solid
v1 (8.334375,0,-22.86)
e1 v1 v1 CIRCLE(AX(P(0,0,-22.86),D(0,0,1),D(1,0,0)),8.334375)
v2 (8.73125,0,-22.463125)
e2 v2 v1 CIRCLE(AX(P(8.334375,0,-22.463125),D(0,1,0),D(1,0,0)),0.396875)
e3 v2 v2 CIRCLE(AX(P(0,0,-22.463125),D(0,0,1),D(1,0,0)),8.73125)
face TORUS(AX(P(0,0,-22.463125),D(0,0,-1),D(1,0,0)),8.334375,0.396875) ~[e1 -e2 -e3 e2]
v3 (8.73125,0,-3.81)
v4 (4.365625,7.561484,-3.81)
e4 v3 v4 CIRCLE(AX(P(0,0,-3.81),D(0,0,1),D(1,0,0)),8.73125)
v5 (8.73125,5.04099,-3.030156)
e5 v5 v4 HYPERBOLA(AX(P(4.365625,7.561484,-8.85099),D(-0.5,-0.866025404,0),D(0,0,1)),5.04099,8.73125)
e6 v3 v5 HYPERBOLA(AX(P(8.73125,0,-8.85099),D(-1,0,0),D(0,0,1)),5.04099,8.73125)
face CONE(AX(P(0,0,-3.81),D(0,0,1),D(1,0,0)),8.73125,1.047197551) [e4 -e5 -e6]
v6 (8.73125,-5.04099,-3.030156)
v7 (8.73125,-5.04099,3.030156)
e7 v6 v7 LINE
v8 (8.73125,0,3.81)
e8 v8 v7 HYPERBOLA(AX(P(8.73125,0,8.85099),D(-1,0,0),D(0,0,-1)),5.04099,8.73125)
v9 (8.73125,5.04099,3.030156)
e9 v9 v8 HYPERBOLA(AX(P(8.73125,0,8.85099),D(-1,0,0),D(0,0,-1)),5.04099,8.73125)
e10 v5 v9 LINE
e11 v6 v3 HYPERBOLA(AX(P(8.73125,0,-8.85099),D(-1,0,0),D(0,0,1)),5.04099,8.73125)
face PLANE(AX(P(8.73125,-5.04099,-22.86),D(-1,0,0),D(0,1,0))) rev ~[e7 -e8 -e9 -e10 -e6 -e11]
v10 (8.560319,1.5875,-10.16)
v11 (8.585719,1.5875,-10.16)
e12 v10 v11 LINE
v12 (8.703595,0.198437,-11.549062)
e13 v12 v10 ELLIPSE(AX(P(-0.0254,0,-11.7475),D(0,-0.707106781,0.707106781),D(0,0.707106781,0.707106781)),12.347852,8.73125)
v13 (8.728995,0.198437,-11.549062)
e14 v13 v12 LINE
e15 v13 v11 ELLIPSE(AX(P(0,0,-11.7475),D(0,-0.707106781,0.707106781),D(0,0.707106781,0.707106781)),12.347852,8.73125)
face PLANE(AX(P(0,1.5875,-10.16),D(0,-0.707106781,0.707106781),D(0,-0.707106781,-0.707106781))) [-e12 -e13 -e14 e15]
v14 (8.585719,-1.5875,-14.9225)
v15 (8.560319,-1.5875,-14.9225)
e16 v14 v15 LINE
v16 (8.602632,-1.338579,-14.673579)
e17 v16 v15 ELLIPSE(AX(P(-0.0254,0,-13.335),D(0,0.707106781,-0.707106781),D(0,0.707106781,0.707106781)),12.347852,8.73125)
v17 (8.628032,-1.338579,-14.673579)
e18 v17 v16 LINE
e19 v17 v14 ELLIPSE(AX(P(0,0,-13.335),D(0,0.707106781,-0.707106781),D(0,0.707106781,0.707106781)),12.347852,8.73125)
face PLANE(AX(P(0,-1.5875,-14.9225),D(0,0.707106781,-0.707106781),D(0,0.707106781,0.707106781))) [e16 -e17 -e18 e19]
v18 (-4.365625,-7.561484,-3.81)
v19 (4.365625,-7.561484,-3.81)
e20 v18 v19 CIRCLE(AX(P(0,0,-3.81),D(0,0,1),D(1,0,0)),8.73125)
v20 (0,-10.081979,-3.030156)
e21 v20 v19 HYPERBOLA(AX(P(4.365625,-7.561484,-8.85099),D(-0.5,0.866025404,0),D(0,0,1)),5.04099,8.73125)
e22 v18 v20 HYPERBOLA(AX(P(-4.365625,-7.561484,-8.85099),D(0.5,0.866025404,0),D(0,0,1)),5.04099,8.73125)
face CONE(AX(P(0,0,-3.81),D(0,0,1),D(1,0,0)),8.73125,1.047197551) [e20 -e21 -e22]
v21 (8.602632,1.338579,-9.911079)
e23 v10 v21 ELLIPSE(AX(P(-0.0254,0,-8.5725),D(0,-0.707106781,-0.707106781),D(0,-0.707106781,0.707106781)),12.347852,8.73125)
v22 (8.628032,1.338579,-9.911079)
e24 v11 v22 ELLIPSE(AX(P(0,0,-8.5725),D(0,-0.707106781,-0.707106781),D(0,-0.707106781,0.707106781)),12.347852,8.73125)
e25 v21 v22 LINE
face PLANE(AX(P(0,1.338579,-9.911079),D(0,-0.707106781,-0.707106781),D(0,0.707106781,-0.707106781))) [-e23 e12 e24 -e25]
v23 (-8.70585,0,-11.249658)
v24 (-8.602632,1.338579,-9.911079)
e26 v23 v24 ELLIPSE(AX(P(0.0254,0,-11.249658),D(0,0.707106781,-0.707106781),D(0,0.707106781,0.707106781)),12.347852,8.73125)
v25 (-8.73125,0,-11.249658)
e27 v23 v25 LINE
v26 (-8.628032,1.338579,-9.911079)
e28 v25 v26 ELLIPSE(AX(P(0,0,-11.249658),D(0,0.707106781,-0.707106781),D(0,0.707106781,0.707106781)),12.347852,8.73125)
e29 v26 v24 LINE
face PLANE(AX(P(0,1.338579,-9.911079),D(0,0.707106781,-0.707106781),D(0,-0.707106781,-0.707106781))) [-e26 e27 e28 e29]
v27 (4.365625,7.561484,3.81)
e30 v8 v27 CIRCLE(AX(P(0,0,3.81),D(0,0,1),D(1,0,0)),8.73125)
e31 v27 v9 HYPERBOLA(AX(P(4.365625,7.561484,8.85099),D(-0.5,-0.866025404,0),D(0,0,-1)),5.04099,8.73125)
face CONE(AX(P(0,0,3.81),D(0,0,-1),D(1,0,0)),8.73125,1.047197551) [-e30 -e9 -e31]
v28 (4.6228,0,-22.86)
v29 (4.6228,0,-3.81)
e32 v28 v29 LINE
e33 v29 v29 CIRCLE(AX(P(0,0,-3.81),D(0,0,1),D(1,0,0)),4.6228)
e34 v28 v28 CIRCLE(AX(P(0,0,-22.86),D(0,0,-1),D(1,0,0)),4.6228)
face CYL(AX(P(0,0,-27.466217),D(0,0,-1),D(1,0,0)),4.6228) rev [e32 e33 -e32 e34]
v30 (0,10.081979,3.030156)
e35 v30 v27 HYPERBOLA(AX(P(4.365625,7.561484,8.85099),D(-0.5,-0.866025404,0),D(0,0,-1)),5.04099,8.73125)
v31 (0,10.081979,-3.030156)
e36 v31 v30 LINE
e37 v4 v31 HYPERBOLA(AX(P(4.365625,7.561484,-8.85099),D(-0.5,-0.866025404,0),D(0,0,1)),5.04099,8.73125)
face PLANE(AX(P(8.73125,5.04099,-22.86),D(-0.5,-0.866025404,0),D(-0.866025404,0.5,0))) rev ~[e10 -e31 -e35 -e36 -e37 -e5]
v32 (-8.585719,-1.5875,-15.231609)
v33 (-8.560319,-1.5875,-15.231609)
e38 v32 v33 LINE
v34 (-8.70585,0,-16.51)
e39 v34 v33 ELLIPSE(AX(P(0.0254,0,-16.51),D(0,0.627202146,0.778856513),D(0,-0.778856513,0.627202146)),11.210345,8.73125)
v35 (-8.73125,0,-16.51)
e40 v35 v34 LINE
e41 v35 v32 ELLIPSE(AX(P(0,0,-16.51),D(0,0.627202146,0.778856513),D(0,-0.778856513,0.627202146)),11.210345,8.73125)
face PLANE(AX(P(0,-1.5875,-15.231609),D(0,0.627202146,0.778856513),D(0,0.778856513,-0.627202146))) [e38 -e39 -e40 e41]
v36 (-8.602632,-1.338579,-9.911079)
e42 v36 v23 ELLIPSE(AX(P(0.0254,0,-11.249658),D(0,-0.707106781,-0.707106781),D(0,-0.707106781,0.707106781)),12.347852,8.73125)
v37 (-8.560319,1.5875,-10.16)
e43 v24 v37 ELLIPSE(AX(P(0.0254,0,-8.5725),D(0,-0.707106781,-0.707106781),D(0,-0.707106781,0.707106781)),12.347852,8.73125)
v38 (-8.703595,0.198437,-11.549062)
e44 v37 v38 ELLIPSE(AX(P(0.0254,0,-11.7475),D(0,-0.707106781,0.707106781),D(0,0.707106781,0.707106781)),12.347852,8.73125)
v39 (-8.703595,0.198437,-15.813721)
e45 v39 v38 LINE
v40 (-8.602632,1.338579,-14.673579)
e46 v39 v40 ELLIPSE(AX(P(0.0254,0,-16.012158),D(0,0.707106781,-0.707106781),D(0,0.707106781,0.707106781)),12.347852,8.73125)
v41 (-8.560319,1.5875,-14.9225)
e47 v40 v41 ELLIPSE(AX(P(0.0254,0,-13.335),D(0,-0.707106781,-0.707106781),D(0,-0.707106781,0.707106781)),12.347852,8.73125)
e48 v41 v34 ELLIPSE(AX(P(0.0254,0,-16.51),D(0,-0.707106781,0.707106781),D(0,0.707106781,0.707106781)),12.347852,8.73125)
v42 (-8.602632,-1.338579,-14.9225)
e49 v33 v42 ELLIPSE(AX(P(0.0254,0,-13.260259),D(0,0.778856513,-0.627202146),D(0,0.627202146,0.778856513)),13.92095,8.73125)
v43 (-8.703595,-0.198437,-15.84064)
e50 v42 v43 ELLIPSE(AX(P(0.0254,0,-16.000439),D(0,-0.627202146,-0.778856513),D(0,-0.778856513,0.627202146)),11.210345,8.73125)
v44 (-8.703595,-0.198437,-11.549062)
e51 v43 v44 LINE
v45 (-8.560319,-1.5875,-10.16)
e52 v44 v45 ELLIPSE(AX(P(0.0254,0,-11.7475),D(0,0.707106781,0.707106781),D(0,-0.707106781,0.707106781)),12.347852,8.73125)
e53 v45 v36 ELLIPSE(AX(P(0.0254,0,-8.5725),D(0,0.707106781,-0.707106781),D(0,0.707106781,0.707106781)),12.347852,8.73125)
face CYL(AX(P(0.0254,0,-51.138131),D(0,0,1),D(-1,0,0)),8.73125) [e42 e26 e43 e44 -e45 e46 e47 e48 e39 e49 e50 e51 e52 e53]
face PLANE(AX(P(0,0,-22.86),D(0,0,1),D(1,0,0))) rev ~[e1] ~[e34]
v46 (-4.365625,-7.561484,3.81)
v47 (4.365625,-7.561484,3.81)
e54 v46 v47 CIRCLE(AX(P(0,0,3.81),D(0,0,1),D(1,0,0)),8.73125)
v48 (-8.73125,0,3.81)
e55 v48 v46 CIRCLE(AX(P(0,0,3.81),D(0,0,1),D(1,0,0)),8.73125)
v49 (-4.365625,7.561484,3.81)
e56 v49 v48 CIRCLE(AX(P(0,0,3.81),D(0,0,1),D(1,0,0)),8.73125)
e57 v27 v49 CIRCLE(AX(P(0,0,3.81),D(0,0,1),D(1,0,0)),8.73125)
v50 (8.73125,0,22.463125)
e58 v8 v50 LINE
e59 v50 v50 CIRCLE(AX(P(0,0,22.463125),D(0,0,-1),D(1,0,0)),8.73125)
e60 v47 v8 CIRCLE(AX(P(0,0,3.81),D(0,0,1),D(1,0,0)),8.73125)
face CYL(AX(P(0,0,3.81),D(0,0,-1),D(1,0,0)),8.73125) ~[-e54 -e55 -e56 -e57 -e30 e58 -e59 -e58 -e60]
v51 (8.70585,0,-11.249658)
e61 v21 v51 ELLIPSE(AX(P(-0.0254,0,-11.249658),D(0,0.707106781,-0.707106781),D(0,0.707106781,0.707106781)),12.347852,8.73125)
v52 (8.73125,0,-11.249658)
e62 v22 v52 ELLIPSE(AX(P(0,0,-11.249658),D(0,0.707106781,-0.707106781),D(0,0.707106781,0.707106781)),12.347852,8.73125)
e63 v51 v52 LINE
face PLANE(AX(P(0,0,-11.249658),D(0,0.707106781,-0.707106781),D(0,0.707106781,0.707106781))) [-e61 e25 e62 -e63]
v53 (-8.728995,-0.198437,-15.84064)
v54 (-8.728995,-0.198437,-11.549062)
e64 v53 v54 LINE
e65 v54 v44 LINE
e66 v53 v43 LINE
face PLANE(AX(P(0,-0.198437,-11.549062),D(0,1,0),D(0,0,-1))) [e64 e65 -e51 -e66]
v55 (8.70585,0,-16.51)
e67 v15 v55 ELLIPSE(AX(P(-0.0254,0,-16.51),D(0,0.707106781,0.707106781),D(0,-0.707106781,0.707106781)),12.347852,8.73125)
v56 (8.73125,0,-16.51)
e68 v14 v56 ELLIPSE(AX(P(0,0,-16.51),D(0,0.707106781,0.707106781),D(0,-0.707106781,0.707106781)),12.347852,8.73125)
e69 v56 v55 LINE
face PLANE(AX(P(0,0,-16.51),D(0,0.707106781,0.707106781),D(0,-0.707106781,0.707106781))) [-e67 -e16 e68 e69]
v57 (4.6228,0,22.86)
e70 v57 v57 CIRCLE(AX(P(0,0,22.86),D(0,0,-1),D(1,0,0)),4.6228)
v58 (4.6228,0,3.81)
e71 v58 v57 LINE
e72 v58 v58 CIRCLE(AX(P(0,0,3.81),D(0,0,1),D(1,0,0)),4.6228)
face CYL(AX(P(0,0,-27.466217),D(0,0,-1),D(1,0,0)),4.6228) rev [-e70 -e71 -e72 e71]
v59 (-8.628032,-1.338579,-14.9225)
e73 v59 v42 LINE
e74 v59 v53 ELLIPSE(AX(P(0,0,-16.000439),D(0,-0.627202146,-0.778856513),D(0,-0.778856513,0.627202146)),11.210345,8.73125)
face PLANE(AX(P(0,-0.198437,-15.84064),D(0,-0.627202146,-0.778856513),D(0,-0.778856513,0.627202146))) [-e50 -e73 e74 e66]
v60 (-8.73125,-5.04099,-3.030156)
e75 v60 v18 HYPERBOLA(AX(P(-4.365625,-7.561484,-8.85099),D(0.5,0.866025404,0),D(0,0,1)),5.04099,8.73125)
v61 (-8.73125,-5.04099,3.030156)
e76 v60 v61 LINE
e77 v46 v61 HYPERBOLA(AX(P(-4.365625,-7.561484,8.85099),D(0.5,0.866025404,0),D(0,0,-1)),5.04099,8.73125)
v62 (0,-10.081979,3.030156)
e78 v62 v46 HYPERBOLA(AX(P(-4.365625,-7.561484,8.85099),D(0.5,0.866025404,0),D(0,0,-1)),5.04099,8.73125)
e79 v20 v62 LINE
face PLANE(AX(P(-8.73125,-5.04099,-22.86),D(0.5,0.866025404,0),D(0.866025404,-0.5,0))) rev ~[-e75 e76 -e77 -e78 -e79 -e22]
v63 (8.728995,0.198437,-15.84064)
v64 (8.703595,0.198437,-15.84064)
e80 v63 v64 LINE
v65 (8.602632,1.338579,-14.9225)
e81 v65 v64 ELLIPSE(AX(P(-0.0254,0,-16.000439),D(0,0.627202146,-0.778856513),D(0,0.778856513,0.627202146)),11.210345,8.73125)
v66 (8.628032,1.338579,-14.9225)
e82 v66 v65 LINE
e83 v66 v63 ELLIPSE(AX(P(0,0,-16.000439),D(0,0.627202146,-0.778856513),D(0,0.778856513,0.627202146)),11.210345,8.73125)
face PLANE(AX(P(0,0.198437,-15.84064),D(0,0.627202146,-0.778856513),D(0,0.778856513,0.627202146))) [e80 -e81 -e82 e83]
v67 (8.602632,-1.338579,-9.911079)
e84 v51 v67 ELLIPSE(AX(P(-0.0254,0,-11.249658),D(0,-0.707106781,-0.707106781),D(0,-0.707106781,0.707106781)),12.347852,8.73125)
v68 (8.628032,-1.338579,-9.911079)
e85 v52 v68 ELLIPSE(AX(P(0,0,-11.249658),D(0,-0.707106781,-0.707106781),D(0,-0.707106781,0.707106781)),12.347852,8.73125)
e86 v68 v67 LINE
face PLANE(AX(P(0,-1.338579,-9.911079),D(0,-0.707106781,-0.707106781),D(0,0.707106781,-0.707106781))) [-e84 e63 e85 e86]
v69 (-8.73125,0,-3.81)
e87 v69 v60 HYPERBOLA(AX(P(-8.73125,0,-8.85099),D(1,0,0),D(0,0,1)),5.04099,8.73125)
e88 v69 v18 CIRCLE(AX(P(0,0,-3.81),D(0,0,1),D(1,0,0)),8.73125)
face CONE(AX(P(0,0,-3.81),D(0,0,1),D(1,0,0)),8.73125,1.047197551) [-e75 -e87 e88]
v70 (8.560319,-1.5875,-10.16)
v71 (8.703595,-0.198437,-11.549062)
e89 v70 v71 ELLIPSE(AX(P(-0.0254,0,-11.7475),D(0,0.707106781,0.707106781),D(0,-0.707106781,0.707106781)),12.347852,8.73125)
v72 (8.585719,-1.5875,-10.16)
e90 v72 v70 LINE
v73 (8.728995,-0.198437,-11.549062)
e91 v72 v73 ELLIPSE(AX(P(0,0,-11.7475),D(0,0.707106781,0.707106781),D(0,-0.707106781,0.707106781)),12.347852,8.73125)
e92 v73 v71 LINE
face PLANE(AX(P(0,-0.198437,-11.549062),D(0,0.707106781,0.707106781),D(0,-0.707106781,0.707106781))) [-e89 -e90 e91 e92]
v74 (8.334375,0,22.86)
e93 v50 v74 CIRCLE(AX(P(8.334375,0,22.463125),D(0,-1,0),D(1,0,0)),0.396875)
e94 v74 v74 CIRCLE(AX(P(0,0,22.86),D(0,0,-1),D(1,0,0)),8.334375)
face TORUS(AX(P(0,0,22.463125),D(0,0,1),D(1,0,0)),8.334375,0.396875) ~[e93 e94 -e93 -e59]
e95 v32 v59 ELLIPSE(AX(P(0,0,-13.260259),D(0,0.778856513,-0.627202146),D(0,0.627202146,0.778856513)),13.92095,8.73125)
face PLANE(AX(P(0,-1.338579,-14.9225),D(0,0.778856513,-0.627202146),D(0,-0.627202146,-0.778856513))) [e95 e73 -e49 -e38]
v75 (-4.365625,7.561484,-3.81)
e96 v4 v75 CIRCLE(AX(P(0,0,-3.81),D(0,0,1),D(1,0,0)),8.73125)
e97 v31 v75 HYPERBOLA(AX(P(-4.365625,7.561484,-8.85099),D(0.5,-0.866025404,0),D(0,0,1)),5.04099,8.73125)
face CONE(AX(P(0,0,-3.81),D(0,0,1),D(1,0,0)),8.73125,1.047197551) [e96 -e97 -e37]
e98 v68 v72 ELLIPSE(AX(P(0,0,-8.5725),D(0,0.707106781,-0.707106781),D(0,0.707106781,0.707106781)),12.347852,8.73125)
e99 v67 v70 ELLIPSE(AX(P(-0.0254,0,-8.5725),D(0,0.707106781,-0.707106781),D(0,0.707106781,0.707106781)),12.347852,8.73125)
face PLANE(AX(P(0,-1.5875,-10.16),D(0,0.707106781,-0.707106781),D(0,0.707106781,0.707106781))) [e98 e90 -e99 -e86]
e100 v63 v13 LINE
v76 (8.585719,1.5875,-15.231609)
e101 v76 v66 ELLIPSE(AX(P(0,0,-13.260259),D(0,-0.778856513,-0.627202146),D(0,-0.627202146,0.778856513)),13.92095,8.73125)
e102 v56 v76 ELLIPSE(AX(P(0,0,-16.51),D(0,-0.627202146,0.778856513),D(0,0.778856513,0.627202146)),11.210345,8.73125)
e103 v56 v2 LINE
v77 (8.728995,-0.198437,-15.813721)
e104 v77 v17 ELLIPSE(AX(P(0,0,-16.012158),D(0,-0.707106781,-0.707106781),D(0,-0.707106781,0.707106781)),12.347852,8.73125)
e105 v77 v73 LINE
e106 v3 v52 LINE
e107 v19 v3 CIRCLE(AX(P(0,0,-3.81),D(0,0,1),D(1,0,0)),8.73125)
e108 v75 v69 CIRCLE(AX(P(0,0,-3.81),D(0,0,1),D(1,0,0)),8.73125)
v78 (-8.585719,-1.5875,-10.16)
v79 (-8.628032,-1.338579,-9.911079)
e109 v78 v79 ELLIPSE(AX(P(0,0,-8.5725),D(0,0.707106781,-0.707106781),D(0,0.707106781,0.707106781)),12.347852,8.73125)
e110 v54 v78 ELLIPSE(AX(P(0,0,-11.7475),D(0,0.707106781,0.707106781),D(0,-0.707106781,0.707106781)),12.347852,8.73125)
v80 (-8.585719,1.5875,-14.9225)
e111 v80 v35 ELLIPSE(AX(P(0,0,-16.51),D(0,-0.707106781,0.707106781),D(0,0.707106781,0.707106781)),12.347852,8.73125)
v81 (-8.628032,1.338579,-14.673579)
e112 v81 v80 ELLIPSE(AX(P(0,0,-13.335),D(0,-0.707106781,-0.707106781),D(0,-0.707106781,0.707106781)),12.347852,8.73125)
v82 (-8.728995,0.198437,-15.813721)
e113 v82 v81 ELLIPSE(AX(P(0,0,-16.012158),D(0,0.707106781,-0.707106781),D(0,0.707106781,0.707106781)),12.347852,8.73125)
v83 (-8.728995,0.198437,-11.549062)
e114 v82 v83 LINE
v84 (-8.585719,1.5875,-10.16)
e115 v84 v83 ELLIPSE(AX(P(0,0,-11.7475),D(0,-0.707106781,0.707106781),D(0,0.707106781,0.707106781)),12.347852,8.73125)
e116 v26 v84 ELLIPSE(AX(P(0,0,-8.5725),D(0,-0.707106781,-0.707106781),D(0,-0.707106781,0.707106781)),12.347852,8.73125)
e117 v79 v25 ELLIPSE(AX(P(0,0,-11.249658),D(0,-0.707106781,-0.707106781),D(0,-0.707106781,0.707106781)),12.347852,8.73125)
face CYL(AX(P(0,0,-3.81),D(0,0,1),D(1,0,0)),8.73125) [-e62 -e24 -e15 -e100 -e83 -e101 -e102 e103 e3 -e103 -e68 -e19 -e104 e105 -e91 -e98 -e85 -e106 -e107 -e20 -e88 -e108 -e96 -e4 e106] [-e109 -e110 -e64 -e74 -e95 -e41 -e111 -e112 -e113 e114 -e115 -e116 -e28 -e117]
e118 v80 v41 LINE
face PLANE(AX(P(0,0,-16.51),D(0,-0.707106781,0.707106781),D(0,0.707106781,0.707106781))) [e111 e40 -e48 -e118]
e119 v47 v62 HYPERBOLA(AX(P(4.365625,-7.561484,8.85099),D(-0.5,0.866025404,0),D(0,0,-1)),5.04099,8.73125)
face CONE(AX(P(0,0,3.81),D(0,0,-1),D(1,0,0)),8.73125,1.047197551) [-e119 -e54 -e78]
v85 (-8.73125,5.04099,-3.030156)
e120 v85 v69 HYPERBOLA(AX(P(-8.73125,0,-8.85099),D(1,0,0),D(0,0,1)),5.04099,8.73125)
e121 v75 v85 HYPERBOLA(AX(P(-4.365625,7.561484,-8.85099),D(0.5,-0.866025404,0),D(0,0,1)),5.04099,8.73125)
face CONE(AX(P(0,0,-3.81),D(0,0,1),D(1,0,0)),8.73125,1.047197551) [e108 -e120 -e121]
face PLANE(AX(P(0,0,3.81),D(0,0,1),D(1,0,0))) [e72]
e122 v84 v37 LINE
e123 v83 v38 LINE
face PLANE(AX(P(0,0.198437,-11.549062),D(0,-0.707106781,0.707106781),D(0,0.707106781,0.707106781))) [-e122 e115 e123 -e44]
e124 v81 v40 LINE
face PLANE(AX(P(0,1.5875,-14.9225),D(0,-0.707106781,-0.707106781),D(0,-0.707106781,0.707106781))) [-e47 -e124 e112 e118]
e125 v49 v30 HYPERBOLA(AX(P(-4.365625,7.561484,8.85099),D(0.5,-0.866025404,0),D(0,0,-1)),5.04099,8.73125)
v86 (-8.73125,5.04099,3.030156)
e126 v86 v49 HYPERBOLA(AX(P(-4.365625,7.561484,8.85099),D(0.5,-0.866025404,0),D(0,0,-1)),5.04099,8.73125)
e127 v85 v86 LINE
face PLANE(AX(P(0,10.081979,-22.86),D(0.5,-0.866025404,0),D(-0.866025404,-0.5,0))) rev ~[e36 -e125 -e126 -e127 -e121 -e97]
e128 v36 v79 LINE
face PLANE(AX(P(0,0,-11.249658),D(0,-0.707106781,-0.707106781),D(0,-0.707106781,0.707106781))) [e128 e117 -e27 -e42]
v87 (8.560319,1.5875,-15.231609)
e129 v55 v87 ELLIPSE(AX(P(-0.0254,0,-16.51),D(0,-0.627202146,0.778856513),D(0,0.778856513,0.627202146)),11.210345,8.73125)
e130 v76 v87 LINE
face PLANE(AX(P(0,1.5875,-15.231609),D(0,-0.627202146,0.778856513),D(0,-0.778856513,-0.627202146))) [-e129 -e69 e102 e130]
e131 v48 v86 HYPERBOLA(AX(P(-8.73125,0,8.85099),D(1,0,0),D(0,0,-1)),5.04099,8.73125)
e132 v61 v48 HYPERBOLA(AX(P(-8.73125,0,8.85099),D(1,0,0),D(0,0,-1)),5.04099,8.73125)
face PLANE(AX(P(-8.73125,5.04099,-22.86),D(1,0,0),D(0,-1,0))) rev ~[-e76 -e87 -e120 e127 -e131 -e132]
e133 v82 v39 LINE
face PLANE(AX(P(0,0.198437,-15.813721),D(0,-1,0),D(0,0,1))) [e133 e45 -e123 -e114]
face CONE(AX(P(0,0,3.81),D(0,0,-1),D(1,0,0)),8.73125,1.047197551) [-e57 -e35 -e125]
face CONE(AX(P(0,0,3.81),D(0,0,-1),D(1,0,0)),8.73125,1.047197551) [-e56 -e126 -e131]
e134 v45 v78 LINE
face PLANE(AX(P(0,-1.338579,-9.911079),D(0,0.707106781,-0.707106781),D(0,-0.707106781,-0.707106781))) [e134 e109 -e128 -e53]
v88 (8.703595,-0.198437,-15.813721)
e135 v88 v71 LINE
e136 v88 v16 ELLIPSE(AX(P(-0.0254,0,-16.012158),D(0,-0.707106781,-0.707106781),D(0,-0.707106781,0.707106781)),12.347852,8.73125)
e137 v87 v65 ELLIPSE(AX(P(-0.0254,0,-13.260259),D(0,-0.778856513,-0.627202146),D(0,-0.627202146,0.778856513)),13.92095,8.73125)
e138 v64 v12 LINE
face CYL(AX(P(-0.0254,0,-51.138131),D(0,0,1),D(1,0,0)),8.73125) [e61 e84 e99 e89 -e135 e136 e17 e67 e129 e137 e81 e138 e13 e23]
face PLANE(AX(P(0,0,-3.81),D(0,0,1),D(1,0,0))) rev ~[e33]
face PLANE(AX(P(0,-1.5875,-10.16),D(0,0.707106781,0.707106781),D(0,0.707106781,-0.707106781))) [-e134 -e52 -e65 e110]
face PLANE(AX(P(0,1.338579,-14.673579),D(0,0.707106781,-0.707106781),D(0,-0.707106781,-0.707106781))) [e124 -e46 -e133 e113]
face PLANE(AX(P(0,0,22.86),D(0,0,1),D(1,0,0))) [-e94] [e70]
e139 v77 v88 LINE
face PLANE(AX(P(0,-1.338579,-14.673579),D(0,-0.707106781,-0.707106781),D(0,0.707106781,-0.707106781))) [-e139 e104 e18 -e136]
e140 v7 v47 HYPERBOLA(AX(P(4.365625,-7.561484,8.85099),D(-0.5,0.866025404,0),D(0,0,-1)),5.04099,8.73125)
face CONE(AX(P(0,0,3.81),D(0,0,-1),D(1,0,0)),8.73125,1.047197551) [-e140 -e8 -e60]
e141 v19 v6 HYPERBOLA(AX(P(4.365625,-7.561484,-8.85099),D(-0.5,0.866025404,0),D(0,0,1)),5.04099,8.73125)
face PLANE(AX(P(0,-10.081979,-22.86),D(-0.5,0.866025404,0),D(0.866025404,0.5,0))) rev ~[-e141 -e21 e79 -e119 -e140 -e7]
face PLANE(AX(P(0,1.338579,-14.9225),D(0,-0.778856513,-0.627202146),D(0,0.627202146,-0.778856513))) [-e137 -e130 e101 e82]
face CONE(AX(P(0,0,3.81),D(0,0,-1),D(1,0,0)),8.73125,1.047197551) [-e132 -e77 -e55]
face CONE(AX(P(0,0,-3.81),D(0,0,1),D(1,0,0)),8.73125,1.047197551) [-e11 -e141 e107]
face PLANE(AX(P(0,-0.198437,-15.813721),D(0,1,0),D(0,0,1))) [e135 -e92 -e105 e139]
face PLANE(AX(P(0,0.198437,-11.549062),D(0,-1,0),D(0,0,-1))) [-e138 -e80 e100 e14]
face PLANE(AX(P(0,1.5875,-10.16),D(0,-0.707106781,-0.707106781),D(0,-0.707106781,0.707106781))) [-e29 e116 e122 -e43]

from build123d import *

# Parameters (mm, degrees)
EXTRUDE1_DEPTH          = 22.86
EXTRUDE1_DEPTH_BACK     = 22.86
EXTRUDE3_0_START        = 3.81
SKETCH3_1_OUTSIDE_W     = 30.048
SKETCH3_1_OUTSIDE_H     = 32.75
SKETCH3_1_OUTSIDE_R     = 8.73125
EXTRUDE3_0_DEPTH        = 19.05
EXTRUDE3_1_START        = -3.81
SKETCH3_1_2_OUTSIDE_W   = 30.048
SKETCH3_1_2_OUTSIDE_H   = 32.75
SKETCH3_1_2_OUTSIDE_R   = 8.73125
EXTRUDE3_1_DEPTH        = 19.05
SKETCH3_2_OUTSIDE_W     = 136.808
SKETCH3_2_OUTSIDE_H     = 139.51
SKETCH3_2_OUTSIDE_R     = 8.73125
EXTRUDE3_2_DEPTH        = 30.818952508
EXTRUDE3_2_DRAFT        = -60
SKETCH3_3_OUTSIDE_W     = 136.808
SKETCH3_3_OUTSIDE_H     = 139.51
SKETCH3_3_OUTSIDE_R     = 8.73125
EXTRUDE3_3_DEPTH        = 30.818952508
EXTRUDE3_3_DRAFT        = -60
FILLET1_R               = 0.396875
EXTRUDE3_4_REACH        = 28.492
EXTRUDE3_4_START_RADIUS = 8.73125
EXTRUDE3_4_END_RADIUS   = 8.73125
CIRPATTERN3_COUNT       = 2
EXTRUDE4_DEPTH          = 27.466216775
EXTRUDE4_DEPTH_BACK     = 27.466216775
SKETCH4_R               = 4.6228
EXTRUDE5_DEPTH          = 3.81
EXTRUDE5_DEPTH_BACK     = 3.81
SKETCH5_R               = 4.6228


with BuildPart() as part:
    # Sketch1.1 → Extrude1 (new, two sides: drawn at the far end of the back side and taken through both)
    with BuildSketch(Plane.XY.offset(-EXTRUDE1_DEPTH_BACK)):
        Polygon((0, 10.081979076), (-8.73125, 5.040989538), (-8.73125, -5.040989538), (0, -10.081979076), (8.73125, -5.040989538), (8.73125, 5.040989538), align=None)
    extrude(amount=EXTRUDE1_DEPTH + EXTRUDE1_DEPTH_BACK)

    # Sketch3.1 outside → Extrude3.0 (cut)
    with BuildSketch(Plane.XY.offset(EXTRUDE3_0_START)):
        Rectangle(SKETCH3_1_OUTSIDE_W, SKETCH3_1_OUTSIDE_H)
        Circle(SKETCH3_1_OUTSIDE_R, mode=Mode.SUBTRACT)
    extrude(amount=EXTRUDE3_0_DEPTH, mode=Mode.SUBTRACT)

    # Sketch3.1<2> outside → Extrude3.1 (cut)
    with BuildSketch(Plane.XY.offset(EXTRUDE3_1_START)):
        Rectangle(SKETCH3_1_2_OUTSIDE_W, SKETCH3_1_2_OUTSIDE_H)
        Circle(SKETCH3_1_2_OUTSIDE_R, mode=Mode.SUBTRACT)
    extrude(amount=-EXTRUDE3_1_DEPTH, mode=Mode.SUBTRACT)


with BuildPart() as extrude3_2_tool:
    # Sketch3.2 outside → Extrude3.2 (with draft: the straight prism first)
    with BuildSketch(Plane.XY.offset(3.81)):
        Rectangle(SKETCH3_2_OUTSIDE_W, SKETCH3_2_OUTSIDE_H)
        Circle(SKETCH3_2_OUTSIDE_R, mode=Mode.SUBTRACT)
    extrude(amount=-EXTRUDE3_2_DEPTH)
    # Extrude3.2: the draft: its side faces are tilted about the plane it starts from
    extrude3_2_sides = [extrude3_2_tool.faces().sort_by_distance(p)[0] for p in [
        (0, -69.755, -11.599476254),
        (68.404, 0, -11.599476254),
        (0, 69.755, -11.599476254),
        (-68.404, 0, -11.599476254),
        (-8.73125, 0, -11.599476254),
    ]]
    draft(extrude3_2_sides, Plane.XY.offset(3.81), EXTRUDE3_2_DRAFT)


with BuildPart() as part_1:
    add(part.part)

    # Extrude3.2: cut by extrude3_2_tool
    add(extrude3_2_tool.part, mode=Mode.SUBTRACT)


with BuildPart() as extrude3_3_tool:
    # Sketch3.3 outside → Extrude3.3 (with draft: the straight prism first)
    with BuildSketch(Plane(origin=(0, 0, -3.81), x_dir=(-1, 0, 0), z_dir=(0, 0, -1))):
        Rectangle(SKETCH3_3_OUTSIDE_W, SKETCH3_3_OUTSIDE_H)
        with Locations(Location((0, 0, 0), (0, 0, 180))):
            Circle(SKETCH3_3_OUTSIDE_R, mode=Mode.SUBTRACT)
    extrude(amount=-EXTRUDE3_3_DEPTH)
    # Extrude3.3: the draft: its side faces are tilted about the plane it starts from
    extrude3_3_sides = [extrude3_3_tool.faces().sort_by_distance(p)[0] for p in [
        (0, -69.755, 11.599476254),
        (-68.404, 0, 11.599476254),
        (0, 69.755, 11.599476254),
        (68.404, 0, 11.599476254),
        (-8.73125, 0, 11.599476254),
    ]]
    draft(extrude3_3_sides, Plane(origin=(0, 0, -3.81), x_dir=(-1, 0, 0), z_dir=(0, 0, -1)), EXTRUDE3_3_DRAFT)


with BuildPart() as part_2:
    add(part_1.part)

    # Extrude3.3: cut by extrude3_3_tool
    add(extrude3_3_tool.part, mode=Mode.SUBTRACT)

    # Fillet1
    fillet1_edges = [part_2.edges().sort_by_distance(p)[0] for p in [
        (-8.73125, 0, 22.86),
        (-8.73125, 0, -22.86),
    ]]
    fillet(fillet1_edges, radius=FILLET1_R)

    # Extrude3.4: from a cylinder face, 28.492 long prism both ways, kept between that surface and its translate by the depth
    extrude3_4_start = Plane(origin=(0, 0, -13.414881), z_dir=(0, 0, 1)) * Cylinder(EXTRUDE3_4_START_RADIUS, 75.4465, mode=Mode.PRIVATE)
    extrude3_4_end = Plane(origin=(-0.0254, 0, -13.414881), z_dir=(0, 0, 1)) * Cylinder(EXTRUDE3_4_END_RADIUS, 75.4465, mode=Mode.PRIVATE)
    # Sketch3.4 → Extrude3.4 (cut, from a surface)
    with BuildSketch(Plane(origin=(0, 0, 0), x_dir=(0, 0, -1), z_dir=(1, 0, 0)), mode=Mode.PRIVATE) as extrude3_4_sk1:
        Polygon((10.16, 1.5875), (11.5490625, 0.1984375), (15.840639961, 0.1984375), (14.9225, 1.338579148), (15.231608679, 1.5875), (16.51, 0), (14.9225, -1.5875), (14.673579148, -1.338579148), (15.813720797, -0.1984375), (11.5490625, -0.1984375), (10.16, -1.5875), (9.911079148, -1.338579148), (11.249658297, 0), (9.911079148, 1.338579148), align=None)
    extrude3_4_tool1 = extrude(extrude3_4_sk1.sketch, amount=EXTRUDE3_4_REACH, both=True, mode=Mode.PRIVATE)
    extrude3_4 = ((extrude3_4_tool1 & extrude3_4_start) - extrude3_4_end).solids().sort_by_distance((8.645784, 0.002778, -13.414881))[0]
    add(extrude3_4, mode=Mode.SUBTRACT)

    # CirPattern3: Extrude3.4 ×2 about axis
    cirpattern3_axis = Axis((0, 0, 0), (0, 0, 1))
    for i in range(1, CIRPATTERN3_COUNT):
        add(extrude3_4.rotate(cirpattern3_axis, i * 360 / CIRPATTERN3_COUNT), mode=Mode.SUBTRACT)

    # Sketch4 → Extrude4 (cut, two sides: drawn at the far end of the back side and taken through both)
    with BuildSketch(Plane.XY.offset(-EXTRUDE4_DEPTH_BACK)):
        Circle(SKETCH4_R)
    extrude(amount=EXTRUDE4_DEPTH + EXTRUDE4_DEPTH_BACK, mode=Mode.SUBTRACT)

    # Sketch5 → Extrude5 (add, two sides: drawn at the far end of the back side and taken through both)
    with BuildSketch(Plane.XY.offset(-EXTRUDE5_DEPTH_BACK)):
        Circle(SKETCH5_R)
    extrude(amount=EXTRUDE5_DEPTH + EXTRUDE5_DEPTH_BACK)


solid = part_2.part
